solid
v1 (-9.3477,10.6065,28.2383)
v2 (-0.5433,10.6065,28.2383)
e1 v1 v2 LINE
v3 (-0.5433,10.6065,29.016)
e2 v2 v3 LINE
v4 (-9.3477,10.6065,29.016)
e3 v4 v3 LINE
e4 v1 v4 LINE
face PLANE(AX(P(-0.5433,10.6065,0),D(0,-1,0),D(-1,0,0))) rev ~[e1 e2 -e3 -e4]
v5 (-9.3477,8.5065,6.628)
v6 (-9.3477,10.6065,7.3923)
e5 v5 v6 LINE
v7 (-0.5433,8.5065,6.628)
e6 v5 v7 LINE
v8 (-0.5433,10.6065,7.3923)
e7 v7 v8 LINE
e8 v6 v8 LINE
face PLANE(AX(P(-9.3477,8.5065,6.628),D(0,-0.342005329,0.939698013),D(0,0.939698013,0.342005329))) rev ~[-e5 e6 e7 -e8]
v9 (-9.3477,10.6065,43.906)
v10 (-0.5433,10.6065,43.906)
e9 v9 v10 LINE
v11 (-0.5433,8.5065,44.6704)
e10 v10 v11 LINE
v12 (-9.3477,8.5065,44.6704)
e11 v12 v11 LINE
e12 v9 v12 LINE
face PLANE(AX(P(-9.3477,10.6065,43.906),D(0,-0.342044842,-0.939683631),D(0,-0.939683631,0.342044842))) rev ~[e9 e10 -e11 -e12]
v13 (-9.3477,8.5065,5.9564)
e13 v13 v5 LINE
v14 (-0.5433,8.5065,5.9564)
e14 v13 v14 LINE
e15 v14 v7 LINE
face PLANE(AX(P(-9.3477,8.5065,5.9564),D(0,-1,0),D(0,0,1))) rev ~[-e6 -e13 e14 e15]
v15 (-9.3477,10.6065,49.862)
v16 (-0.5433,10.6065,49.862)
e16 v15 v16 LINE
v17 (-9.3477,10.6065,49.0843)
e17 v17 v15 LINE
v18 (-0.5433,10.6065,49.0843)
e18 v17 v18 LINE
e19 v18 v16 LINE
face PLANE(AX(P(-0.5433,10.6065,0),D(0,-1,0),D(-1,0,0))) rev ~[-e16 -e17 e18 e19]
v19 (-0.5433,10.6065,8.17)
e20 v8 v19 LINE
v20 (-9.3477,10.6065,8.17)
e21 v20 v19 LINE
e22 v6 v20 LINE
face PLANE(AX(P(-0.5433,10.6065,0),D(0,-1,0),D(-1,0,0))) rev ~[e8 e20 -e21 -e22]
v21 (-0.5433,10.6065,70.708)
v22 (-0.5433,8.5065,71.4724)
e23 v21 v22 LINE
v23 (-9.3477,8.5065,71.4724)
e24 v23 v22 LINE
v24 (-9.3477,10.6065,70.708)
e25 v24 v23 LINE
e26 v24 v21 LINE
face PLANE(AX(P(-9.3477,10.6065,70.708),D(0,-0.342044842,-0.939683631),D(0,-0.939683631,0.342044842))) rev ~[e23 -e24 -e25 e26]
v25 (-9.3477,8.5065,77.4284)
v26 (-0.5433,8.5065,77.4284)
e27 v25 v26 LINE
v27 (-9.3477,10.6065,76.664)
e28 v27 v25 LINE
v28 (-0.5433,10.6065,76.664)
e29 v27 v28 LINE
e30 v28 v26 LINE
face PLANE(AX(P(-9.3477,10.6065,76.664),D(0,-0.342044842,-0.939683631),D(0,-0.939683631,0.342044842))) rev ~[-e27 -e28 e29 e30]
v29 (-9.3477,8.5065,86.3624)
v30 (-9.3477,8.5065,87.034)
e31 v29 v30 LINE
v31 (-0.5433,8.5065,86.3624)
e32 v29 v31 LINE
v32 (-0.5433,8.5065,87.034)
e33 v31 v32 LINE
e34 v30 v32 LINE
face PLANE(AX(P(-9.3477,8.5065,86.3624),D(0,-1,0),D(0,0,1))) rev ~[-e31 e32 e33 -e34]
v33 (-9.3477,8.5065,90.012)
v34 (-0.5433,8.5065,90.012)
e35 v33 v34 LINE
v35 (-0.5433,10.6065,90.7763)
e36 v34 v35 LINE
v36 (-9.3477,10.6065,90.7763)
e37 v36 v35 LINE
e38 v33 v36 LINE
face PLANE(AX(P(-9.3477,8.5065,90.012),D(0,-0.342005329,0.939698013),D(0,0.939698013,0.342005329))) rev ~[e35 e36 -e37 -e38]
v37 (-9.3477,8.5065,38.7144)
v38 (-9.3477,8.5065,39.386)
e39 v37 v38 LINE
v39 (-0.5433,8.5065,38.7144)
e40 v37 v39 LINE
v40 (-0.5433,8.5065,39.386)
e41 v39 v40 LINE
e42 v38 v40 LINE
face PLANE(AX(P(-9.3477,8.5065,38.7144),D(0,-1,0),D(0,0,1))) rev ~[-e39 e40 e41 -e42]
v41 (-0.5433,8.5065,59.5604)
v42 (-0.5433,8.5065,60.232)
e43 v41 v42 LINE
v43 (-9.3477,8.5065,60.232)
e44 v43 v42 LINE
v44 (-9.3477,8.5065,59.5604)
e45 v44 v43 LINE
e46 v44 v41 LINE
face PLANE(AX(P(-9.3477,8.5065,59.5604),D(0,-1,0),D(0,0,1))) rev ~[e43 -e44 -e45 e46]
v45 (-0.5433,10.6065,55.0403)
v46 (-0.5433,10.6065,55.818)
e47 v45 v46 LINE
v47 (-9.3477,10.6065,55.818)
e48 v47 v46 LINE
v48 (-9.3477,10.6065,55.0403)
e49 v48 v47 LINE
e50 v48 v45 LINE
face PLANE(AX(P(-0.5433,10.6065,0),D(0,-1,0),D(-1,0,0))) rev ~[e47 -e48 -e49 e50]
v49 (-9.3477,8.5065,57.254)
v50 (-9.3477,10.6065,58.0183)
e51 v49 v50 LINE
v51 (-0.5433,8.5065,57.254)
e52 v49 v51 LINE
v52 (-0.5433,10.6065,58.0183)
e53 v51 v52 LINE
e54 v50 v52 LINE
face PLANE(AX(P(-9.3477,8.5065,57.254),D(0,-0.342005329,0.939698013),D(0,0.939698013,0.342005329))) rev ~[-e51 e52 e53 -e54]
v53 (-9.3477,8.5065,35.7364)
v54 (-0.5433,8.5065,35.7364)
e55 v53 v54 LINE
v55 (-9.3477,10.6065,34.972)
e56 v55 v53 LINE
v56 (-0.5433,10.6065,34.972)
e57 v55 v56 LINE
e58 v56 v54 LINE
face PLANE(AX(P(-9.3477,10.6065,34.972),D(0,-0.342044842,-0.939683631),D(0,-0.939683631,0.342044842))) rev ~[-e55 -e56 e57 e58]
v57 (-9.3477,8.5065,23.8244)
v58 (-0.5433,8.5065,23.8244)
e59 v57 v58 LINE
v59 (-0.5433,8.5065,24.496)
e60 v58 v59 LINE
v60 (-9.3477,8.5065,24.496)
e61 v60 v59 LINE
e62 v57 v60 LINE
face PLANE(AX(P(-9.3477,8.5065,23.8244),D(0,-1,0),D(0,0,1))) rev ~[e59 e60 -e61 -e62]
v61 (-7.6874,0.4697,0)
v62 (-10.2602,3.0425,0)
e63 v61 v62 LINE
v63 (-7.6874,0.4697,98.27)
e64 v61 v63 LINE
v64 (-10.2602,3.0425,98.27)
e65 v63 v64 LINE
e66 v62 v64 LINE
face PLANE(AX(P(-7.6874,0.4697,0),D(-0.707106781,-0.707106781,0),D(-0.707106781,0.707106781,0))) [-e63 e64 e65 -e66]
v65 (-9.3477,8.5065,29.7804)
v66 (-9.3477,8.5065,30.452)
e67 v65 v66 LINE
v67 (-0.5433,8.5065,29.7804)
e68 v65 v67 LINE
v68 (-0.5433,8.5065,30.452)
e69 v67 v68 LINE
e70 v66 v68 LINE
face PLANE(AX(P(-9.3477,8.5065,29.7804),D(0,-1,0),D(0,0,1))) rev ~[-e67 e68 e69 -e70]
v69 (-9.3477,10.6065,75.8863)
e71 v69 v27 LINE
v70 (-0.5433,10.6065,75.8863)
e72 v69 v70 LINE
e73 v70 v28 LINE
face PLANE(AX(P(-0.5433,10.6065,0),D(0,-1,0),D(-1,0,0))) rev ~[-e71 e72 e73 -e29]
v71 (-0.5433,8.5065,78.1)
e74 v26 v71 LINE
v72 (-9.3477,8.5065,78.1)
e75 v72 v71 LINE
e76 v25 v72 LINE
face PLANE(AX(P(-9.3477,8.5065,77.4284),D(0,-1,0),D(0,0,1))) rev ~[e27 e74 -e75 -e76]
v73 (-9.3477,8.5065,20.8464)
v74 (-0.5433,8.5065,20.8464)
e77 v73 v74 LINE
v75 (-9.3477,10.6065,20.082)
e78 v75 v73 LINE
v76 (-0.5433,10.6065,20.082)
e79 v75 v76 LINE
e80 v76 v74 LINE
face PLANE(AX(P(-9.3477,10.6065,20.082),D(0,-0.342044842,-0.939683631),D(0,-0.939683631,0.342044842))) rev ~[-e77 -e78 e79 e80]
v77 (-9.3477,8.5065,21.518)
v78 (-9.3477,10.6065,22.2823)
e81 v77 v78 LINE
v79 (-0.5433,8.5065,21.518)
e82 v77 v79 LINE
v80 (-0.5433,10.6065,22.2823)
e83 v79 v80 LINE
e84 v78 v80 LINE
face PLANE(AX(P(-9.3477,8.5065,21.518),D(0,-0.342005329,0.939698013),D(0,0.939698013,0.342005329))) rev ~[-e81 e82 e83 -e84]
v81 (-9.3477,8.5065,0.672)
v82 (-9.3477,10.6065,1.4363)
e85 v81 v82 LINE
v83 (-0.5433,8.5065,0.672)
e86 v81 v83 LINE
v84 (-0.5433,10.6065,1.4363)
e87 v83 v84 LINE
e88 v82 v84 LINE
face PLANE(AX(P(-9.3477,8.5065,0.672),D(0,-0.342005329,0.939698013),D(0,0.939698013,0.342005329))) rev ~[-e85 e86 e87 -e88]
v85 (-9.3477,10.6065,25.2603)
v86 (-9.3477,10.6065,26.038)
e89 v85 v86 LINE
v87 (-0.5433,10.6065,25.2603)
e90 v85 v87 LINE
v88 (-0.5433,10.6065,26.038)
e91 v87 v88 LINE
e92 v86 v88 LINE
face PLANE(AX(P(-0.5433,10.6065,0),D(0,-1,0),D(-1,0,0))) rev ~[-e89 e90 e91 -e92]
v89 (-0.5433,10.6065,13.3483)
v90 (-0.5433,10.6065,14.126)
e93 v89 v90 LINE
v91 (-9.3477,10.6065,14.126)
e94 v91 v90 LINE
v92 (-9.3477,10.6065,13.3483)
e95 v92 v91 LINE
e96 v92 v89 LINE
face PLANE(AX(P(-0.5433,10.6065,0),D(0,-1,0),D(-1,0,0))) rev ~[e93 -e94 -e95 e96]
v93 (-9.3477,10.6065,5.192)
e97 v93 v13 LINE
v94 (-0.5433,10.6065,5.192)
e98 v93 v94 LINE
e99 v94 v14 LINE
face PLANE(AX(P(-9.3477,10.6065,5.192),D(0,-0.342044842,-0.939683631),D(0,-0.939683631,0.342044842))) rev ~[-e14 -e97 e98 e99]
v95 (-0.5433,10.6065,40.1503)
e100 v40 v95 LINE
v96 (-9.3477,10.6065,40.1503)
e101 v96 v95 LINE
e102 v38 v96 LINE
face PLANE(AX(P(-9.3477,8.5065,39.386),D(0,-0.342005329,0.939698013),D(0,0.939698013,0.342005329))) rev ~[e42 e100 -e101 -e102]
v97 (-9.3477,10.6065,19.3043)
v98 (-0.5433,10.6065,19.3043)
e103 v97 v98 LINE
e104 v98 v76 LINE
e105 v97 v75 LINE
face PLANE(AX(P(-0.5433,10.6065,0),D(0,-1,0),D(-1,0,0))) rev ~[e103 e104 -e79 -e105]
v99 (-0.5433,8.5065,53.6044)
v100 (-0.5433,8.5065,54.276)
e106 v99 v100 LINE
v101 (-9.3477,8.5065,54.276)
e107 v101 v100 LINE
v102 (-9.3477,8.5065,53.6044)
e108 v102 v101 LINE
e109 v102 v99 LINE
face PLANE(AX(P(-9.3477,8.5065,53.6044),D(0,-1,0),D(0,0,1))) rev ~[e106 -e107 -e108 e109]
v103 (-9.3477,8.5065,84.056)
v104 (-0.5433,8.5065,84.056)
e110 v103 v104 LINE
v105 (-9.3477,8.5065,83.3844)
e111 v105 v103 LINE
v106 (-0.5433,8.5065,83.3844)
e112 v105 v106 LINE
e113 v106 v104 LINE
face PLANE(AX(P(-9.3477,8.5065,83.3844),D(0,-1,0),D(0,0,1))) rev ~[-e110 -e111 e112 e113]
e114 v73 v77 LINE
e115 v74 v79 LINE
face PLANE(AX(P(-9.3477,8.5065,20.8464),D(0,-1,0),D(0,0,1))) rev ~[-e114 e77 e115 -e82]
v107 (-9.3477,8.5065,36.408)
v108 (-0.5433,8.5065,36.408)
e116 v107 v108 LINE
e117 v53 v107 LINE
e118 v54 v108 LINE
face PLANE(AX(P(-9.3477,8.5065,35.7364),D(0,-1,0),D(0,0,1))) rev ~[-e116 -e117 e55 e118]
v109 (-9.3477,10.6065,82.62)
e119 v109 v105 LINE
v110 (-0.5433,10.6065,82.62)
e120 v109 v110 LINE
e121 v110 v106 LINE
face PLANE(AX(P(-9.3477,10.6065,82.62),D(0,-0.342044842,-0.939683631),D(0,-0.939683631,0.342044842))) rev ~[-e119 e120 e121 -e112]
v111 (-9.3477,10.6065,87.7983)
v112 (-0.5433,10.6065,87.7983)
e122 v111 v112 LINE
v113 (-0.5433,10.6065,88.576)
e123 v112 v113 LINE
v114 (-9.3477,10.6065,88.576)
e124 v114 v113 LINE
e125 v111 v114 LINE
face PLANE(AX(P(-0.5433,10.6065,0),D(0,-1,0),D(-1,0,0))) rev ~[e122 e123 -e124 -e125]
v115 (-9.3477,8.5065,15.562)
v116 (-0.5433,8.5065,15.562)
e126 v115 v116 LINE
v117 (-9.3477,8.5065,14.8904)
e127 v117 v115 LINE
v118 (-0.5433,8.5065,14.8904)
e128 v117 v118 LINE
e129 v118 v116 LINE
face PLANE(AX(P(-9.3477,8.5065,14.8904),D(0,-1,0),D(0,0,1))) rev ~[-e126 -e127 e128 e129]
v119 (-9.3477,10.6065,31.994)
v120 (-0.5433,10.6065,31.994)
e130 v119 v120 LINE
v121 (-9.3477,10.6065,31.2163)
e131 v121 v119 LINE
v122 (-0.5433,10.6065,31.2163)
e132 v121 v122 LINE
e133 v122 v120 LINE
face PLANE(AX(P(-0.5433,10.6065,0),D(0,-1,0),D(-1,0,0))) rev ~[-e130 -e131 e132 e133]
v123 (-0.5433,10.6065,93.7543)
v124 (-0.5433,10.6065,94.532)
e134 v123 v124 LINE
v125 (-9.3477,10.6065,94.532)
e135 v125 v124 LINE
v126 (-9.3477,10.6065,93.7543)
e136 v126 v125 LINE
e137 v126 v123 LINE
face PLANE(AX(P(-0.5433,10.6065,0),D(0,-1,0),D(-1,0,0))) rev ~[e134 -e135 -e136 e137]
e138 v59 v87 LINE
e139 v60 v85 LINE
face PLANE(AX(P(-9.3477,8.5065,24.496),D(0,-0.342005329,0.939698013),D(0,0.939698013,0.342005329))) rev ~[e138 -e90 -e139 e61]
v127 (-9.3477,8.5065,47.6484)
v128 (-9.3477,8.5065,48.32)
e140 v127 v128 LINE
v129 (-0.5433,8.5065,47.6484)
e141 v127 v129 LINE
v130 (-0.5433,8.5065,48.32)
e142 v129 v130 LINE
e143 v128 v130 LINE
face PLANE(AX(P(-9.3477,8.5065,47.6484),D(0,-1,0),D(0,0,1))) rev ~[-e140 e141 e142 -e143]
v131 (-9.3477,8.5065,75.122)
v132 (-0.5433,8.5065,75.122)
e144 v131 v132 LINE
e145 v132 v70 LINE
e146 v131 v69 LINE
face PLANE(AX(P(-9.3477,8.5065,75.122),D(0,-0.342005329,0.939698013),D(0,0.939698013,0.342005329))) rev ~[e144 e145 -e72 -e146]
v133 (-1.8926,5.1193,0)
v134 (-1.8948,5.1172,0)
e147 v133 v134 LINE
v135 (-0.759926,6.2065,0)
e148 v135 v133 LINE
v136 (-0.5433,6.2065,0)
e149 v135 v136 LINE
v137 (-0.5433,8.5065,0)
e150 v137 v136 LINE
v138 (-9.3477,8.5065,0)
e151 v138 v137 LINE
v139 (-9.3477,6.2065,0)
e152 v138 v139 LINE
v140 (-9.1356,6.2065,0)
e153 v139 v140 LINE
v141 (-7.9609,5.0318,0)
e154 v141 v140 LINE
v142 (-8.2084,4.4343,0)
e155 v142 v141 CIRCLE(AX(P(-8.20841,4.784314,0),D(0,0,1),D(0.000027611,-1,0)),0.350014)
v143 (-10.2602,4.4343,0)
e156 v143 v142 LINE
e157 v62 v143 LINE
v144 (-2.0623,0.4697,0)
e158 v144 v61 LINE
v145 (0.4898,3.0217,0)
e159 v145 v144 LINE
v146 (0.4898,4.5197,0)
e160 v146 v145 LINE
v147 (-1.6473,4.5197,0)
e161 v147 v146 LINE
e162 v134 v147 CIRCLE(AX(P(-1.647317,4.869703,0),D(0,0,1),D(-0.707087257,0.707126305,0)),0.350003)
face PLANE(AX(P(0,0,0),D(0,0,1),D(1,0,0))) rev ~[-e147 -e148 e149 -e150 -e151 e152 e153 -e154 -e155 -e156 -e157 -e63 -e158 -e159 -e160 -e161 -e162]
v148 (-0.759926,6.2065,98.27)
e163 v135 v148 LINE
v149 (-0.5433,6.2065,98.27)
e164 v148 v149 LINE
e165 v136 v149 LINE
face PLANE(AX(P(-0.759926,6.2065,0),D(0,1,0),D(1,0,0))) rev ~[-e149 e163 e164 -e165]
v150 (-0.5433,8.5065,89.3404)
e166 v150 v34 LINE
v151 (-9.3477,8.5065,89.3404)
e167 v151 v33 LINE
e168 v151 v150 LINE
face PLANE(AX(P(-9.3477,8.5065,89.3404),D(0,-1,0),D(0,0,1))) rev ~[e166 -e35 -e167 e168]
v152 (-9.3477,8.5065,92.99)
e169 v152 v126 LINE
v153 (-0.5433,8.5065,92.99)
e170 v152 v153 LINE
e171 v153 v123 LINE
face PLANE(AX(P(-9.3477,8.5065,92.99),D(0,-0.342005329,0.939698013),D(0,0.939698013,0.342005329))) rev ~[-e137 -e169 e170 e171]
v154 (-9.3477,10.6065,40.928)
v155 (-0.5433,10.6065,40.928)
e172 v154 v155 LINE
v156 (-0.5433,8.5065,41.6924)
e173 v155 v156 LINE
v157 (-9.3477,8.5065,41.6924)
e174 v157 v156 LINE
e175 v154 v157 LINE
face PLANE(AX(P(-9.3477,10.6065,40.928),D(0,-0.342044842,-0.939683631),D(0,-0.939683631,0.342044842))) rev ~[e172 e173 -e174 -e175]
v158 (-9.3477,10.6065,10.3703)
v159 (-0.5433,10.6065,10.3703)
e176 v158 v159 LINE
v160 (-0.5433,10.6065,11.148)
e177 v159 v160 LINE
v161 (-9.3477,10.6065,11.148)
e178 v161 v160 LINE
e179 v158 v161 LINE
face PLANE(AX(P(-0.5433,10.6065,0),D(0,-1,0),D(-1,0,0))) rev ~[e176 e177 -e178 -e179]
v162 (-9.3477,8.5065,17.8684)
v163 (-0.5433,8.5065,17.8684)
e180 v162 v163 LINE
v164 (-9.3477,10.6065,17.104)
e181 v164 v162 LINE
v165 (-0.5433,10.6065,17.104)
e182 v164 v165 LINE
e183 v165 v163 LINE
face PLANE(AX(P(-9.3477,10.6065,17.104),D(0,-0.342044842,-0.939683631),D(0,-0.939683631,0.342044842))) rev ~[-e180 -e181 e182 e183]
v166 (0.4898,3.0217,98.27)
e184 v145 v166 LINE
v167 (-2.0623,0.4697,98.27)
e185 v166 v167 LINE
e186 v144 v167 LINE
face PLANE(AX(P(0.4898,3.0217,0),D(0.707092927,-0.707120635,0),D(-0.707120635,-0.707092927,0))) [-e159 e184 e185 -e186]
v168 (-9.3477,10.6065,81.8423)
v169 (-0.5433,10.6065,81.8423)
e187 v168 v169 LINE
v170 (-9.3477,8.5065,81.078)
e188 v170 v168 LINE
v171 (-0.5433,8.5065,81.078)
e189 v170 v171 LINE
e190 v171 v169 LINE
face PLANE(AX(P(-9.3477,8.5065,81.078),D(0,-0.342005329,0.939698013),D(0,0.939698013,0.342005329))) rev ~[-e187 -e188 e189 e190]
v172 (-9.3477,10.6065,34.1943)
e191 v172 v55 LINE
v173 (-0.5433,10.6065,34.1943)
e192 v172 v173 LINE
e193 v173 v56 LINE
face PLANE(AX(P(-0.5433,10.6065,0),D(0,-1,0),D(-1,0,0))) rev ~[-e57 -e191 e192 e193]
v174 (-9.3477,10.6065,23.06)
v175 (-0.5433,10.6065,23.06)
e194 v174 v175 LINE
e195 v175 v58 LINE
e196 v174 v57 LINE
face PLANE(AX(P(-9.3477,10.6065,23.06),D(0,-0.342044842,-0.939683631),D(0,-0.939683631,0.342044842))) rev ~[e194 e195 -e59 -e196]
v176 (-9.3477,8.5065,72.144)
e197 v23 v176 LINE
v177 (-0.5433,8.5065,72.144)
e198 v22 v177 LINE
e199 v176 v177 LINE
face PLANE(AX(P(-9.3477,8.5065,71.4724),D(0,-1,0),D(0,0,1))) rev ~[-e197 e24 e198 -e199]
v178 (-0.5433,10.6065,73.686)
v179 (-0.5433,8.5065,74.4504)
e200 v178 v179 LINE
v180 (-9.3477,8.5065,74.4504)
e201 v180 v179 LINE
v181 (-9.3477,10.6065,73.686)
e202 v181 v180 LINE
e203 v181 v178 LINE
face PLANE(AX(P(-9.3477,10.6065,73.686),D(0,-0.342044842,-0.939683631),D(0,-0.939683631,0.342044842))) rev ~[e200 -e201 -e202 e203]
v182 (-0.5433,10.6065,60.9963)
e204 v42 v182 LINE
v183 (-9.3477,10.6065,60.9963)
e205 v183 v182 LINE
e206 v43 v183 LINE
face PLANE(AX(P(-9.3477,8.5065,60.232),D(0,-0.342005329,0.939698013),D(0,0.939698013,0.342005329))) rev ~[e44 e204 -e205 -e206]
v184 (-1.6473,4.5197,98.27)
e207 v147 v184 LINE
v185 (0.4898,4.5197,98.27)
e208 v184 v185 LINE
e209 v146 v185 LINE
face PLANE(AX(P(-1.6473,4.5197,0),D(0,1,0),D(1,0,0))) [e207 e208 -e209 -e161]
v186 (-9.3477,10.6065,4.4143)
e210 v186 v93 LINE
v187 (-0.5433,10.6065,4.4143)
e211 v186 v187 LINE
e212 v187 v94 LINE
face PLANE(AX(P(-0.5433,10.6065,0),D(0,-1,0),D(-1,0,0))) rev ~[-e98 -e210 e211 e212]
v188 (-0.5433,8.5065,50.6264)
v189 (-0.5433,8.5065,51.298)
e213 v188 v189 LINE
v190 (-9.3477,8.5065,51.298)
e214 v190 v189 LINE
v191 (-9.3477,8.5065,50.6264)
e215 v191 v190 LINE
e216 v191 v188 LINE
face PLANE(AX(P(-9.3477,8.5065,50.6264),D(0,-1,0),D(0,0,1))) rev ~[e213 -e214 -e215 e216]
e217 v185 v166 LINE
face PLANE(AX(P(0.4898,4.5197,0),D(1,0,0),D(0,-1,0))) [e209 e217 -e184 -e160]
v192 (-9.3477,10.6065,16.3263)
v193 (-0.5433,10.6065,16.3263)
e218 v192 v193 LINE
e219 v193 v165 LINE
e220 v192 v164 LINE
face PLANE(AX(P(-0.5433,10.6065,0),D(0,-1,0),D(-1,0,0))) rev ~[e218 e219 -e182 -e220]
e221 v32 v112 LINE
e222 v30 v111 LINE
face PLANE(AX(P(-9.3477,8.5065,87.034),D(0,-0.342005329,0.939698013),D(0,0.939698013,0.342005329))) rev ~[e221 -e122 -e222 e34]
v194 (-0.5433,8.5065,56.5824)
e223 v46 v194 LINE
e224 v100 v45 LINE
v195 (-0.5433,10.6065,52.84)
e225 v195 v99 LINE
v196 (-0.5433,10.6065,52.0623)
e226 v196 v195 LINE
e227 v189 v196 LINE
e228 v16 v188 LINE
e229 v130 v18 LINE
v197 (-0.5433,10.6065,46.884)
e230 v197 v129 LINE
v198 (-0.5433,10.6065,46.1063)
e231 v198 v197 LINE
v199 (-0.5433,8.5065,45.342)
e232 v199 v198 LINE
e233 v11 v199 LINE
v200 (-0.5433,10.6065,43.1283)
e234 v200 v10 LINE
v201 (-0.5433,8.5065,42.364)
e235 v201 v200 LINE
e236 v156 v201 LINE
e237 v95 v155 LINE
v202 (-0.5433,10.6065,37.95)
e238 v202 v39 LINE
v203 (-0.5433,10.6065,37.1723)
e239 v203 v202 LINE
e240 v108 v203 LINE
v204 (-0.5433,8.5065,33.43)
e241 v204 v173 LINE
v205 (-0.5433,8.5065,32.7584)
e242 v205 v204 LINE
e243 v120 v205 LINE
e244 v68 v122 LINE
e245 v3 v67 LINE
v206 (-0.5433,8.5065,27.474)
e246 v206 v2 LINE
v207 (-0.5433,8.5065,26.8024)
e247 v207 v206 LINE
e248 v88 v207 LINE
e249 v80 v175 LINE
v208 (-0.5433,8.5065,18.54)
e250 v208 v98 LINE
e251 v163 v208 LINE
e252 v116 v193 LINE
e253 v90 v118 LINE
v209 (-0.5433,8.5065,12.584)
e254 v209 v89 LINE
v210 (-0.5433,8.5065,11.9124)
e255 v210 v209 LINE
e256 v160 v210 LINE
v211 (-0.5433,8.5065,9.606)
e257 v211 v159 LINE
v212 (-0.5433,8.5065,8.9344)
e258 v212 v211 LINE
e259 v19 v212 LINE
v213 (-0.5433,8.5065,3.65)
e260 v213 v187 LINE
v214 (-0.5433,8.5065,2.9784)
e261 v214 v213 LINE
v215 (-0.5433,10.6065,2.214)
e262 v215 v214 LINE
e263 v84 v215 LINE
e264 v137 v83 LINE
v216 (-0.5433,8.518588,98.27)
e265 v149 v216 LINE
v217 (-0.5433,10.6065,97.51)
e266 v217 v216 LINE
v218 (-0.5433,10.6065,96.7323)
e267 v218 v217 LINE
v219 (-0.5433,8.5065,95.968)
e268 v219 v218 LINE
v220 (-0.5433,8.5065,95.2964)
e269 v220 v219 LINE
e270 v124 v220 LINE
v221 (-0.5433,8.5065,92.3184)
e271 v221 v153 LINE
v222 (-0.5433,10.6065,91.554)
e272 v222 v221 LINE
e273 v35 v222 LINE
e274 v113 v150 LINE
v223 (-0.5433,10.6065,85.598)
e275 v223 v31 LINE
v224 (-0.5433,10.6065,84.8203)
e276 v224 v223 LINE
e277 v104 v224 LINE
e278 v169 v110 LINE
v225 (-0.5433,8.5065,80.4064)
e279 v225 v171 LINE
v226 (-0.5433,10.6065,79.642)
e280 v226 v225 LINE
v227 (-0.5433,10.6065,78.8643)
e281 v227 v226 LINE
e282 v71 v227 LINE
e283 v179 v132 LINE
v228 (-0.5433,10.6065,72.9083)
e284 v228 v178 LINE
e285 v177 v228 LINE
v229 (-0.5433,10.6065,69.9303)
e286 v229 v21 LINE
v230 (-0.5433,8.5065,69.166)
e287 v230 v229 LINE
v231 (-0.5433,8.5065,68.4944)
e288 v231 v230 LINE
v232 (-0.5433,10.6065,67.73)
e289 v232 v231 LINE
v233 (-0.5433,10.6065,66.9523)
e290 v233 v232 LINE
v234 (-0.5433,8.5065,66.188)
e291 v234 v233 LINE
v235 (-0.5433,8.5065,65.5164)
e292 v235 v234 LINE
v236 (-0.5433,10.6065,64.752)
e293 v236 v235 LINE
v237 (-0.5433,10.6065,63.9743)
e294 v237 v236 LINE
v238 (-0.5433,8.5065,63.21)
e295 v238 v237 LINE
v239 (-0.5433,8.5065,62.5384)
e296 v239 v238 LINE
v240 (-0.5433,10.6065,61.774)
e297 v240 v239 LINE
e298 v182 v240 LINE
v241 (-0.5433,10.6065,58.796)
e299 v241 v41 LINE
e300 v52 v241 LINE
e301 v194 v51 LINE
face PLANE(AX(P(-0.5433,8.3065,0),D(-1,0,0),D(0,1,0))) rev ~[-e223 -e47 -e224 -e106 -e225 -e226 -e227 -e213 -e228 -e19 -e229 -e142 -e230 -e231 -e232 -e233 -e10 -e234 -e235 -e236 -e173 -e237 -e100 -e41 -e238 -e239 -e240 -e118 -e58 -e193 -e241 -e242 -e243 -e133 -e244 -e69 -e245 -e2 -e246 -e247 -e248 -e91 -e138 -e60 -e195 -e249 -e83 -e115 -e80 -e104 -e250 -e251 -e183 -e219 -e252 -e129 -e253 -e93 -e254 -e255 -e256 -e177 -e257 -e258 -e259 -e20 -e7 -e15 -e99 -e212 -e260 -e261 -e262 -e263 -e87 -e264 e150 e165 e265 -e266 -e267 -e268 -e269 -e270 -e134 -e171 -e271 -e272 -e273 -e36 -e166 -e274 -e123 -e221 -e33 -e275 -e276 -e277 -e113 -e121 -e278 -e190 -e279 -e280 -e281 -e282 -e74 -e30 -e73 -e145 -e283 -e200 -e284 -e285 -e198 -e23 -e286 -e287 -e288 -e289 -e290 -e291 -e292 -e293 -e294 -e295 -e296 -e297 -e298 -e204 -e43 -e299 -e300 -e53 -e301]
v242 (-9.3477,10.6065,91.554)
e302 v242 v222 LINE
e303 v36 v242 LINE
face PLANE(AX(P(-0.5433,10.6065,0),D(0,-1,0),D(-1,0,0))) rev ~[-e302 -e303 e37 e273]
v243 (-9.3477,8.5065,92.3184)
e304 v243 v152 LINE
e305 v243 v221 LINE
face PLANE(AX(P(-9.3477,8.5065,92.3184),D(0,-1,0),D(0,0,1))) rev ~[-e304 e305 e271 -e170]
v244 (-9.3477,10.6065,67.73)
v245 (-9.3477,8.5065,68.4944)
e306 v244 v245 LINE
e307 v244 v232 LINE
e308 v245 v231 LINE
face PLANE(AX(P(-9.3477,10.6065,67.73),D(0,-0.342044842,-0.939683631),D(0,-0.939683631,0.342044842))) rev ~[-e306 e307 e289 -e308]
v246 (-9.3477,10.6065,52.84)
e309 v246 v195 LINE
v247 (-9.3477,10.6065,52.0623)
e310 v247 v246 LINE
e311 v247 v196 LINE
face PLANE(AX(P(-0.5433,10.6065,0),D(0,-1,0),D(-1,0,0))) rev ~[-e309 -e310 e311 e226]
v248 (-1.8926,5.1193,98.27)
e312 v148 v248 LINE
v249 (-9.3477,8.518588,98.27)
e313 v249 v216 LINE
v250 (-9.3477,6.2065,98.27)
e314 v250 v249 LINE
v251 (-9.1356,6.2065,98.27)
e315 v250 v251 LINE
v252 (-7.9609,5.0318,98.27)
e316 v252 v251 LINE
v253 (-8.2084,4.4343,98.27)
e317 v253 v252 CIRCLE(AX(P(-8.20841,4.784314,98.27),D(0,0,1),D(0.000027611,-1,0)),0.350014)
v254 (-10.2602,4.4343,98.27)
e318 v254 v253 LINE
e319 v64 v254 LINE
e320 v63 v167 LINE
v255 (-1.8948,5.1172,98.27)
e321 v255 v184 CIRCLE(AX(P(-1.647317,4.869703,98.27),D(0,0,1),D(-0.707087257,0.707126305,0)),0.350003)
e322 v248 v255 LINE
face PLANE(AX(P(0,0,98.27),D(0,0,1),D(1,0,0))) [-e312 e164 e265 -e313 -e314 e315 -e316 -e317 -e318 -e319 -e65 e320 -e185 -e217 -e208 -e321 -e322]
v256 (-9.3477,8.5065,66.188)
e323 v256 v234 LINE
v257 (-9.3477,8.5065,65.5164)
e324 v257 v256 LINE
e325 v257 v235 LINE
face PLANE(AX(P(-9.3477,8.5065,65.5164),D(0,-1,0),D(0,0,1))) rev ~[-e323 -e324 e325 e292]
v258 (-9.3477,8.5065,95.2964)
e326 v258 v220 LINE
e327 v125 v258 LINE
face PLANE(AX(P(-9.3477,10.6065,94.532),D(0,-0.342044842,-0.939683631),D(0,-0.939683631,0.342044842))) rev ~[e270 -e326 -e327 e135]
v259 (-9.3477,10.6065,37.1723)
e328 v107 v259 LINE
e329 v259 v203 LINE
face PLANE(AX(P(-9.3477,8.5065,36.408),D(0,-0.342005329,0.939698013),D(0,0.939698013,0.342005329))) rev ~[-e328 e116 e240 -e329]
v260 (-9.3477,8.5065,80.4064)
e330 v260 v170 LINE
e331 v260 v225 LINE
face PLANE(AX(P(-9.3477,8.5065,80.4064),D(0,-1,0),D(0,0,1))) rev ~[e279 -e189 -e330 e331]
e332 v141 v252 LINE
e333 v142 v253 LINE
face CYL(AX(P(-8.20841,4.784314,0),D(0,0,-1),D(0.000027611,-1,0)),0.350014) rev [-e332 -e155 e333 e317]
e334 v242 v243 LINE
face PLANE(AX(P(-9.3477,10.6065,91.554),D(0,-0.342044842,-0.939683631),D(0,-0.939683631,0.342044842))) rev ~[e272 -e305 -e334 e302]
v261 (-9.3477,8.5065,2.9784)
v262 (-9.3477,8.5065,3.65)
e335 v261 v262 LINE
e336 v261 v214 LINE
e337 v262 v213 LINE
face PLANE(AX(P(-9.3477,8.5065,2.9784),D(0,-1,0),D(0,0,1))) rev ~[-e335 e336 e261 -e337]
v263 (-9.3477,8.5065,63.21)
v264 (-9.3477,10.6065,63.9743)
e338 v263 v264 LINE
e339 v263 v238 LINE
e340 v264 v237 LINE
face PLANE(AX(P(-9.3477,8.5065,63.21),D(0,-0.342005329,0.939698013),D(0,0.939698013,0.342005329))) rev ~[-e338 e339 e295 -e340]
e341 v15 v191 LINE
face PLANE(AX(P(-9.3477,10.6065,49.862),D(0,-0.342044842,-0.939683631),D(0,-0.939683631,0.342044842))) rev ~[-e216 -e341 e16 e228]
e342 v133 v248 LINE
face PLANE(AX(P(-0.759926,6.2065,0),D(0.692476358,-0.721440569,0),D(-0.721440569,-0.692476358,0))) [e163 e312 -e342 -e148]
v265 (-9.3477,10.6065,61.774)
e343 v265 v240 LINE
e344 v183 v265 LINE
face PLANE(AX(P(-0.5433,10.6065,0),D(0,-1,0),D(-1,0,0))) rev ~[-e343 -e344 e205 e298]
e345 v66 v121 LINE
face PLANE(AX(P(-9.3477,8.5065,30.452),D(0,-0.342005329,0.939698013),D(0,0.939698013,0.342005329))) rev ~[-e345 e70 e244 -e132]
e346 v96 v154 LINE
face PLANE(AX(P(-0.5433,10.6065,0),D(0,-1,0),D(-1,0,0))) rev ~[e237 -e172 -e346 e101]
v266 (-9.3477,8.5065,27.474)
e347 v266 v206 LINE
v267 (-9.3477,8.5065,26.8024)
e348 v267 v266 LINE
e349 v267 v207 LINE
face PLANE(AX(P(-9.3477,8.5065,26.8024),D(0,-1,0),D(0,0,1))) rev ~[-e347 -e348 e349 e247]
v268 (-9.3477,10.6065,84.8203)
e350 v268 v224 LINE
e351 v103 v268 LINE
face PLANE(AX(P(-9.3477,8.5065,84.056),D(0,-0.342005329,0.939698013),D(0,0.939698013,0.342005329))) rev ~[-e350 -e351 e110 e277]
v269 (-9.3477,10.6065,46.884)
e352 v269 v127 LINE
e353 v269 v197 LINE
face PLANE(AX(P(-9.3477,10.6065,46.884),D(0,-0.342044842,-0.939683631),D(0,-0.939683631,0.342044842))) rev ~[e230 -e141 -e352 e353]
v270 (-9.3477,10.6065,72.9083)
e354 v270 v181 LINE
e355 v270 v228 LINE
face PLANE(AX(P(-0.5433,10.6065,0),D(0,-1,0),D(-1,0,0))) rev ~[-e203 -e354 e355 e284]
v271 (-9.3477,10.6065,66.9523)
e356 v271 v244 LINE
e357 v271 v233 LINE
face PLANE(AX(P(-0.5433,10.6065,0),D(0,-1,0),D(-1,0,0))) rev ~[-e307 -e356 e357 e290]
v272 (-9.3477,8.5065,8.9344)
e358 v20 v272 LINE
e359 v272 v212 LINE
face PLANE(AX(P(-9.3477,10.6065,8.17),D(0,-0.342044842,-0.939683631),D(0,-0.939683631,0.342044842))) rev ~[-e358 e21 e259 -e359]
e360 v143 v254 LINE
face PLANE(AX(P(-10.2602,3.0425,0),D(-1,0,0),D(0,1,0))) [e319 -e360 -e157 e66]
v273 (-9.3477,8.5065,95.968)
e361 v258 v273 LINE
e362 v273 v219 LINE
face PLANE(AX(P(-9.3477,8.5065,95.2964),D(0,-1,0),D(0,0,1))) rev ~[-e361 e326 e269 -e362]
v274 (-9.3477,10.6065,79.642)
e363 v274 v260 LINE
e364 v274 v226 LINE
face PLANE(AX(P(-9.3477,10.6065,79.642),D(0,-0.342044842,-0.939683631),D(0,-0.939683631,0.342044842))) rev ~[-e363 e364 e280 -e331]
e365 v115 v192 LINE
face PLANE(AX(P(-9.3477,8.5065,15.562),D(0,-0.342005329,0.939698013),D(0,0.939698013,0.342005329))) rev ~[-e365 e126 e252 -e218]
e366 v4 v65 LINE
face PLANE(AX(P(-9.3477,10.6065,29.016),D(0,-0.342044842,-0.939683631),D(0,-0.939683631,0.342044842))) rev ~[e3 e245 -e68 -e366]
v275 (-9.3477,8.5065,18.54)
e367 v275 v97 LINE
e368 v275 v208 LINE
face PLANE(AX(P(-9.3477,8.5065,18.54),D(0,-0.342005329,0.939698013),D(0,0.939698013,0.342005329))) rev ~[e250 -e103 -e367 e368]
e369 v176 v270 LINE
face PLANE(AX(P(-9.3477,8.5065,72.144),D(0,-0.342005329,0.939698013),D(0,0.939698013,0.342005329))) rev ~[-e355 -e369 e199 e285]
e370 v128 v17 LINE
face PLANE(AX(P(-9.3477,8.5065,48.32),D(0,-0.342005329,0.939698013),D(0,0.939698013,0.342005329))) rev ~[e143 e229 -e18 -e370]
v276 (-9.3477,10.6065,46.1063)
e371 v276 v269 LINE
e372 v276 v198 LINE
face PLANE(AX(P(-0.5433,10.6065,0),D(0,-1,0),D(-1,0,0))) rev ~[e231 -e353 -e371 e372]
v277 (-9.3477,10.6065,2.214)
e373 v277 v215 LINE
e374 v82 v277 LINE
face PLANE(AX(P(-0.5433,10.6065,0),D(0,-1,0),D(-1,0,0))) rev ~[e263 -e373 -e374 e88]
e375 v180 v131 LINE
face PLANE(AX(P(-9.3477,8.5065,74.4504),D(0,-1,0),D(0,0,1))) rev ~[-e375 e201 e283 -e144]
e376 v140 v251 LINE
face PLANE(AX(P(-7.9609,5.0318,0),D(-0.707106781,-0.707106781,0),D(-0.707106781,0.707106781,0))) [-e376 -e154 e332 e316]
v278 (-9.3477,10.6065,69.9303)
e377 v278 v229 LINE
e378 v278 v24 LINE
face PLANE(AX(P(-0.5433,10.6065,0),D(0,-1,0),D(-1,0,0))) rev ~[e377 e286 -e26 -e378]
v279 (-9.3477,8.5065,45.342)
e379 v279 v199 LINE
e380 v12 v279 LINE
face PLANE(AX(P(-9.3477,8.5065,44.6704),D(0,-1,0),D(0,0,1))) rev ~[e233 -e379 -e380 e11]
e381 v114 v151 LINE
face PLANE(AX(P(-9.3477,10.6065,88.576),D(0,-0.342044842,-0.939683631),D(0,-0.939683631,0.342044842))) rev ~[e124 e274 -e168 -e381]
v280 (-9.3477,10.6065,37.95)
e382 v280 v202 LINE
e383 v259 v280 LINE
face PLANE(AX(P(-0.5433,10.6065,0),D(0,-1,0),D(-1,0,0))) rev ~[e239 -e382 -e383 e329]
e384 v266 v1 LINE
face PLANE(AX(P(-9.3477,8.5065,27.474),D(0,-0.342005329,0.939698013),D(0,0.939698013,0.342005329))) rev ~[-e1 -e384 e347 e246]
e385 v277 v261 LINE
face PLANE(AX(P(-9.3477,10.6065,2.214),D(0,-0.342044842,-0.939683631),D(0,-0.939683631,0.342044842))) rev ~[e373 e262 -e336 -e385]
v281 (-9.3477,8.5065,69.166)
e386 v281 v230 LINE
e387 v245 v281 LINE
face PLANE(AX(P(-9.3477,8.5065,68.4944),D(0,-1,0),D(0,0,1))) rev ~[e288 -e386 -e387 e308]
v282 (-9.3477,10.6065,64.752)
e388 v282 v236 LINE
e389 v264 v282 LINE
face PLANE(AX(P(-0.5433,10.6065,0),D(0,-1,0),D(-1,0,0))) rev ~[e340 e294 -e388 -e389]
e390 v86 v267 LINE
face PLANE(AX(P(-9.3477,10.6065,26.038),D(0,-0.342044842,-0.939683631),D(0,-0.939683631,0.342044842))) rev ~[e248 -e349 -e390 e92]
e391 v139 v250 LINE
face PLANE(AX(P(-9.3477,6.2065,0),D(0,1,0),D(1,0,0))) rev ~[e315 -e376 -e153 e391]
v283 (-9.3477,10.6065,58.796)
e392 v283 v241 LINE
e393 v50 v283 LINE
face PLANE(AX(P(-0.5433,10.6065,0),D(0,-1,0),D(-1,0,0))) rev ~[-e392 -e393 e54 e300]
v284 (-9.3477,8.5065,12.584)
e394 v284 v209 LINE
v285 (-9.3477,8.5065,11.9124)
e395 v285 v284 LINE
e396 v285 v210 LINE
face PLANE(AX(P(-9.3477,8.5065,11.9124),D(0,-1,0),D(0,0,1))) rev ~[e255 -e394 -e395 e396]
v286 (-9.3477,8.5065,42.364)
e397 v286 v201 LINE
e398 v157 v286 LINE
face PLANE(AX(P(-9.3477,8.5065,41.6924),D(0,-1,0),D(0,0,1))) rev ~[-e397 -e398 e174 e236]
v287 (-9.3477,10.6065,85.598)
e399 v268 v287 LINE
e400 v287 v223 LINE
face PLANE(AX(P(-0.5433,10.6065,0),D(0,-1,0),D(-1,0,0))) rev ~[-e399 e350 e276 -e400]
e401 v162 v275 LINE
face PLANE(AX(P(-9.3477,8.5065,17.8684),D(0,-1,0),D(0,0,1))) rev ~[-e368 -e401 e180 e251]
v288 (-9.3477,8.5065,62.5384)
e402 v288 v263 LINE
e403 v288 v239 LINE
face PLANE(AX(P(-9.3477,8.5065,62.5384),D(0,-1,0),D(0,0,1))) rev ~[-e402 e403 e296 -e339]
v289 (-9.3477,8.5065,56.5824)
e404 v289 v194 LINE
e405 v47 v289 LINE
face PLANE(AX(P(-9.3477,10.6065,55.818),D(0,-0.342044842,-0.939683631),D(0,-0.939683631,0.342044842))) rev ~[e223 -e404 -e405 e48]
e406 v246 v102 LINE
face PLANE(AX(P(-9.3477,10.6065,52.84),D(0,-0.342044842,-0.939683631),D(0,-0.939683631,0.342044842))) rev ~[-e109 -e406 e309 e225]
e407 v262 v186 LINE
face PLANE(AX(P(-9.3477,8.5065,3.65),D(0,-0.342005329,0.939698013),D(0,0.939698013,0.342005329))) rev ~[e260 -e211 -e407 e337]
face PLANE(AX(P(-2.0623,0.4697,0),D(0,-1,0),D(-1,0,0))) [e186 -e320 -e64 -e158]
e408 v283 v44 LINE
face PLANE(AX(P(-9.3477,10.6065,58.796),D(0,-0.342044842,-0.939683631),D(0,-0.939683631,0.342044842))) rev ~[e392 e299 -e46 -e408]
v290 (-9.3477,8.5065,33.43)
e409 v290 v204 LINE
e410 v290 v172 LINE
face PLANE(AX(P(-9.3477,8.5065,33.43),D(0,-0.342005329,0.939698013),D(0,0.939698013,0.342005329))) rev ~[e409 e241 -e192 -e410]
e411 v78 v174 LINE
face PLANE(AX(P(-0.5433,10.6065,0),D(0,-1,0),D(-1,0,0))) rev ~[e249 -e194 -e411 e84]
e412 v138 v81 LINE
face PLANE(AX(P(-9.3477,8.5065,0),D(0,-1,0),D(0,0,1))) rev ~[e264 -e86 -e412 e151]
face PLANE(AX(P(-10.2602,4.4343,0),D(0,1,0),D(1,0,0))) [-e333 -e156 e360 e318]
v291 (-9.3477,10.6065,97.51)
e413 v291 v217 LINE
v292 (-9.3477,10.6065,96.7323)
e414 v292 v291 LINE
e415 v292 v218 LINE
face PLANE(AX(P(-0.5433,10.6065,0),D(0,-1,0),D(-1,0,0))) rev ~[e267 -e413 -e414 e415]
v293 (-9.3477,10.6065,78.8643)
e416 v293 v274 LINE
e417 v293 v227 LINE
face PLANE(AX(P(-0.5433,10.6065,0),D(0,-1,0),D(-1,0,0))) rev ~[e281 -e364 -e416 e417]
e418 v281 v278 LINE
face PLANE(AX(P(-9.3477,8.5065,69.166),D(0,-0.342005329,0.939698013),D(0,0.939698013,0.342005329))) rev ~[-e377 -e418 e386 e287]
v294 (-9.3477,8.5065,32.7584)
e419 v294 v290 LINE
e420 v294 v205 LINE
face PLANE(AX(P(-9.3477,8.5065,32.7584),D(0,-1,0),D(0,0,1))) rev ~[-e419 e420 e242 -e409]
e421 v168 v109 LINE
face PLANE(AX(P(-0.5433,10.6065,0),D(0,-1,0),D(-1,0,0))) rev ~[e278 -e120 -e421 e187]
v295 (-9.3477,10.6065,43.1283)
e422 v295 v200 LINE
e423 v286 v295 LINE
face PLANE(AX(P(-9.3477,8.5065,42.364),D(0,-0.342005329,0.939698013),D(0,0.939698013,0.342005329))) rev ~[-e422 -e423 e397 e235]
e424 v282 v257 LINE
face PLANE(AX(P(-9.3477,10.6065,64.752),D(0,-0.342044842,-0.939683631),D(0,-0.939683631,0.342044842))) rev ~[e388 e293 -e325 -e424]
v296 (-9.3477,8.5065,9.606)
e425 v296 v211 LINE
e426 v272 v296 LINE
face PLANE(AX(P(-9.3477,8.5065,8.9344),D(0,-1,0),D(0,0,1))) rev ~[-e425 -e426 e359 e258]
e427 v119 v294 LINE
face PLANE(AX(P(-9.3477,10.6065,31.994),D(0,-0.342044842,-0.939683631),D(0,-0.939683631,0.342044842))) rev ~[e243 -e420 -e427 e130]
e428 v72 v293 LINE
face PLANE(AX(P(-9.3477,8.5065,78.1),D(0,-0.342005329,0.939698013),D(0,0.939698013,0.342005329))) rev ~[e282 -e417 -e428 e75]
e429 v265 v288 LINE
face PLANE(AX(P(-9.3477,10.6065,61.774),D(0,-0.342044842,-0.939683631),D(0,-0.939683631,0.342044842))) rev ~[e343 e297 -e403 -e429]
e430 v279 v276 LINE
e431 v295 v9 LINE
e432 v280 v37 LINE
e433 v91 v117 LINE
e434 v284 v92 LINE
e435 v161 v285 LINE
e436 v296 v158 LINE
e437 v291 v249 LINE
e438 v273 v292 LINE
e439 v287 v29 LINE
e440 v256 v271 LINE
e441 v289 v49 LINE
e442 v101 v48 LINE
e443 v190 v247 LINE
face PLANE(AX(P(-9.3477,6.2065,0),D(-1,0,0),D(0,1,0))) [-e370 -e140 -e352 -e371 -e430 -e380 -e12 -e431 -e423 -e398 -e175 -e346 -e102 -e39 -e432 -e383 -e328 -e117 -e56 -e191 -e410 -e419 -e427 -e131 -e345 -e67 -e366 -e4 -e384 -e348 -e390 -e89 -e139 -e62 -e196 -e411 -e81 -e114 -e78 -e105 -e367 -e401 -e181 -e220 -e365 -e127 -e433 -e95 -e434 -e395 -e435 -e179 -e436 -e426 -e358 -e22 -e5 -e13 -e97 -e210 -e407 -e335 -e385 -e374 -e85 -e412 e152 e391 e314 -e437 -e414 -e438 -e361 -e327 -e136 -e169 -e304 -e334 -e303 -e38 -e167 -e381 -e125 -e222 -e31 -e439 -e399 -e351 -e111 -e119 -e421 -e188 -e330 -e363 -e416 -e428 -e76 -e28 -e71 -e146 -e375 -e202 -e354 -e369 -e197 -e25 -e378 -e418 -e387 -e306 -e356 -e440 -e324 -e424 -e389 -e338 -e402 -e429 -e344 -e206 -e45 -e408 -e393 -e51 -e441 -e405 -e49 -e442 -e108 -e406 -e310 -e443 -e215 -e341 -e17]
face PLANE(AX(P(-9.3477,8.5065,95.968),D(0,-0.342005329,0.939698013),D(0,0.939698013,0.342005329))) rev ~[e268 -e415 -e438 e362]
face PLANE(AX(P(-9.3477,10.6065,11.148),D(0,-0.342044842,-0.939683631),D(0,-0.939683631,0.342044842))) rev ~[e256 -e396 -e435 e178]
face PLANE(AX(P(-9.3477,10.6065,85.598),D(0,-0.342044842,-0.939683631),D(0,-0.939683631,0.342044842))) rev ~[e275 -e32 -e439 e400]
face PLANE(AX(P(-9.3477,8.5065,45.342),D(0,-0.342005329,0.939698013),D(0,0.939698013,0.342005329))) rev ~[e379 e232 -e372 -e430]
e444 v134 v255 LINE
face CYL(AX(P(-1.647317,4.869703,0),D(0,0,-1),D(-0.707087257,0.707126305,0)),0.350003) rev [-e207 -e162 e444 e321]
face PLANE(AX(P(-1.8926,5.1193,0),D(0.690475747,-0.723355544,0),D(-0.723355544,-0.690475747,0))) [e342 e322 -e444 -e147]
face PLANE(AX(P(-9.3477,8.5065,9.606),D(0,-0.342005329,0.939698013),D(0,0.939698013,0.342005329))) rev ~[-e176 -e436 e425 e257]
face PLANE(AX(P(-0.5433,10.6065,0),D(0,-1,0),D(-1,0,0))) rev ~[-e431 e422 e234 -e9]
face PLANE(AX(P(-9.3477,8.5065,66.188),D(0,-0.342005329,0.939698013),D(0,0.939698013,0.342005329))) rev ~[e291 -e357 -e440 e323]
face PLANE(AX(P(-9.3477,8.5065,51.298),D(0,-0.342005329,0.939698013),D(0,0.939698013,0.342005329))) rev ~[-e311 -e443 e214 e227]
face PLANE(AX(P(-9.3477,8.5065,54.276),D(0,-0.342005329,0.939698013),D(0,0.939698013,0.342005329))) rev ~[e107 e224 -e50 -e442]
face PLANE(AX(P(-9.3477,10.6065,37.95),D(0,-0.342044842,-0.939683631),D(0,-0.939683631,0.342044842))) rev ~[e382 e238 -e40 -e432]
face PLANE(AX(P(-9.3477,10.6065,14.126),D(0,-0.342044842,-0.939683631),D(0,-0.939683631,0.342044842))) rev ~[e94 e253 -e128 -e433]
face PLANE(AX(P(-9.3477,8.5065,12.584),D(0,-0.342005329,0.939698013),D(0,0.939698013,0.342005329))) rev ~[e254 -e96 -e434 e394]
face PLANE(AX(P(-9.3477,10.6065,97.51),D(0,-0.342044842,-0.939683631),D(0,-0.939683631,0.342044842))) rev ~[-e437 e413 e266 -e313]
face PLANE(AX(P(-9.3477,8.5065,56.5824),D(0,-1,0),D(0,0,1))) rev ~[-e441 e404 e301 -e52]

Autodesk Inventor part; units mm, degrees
ref_plane "YZ Plane" through (0, 0, 0) normal (1, 0, 0) x (0, 1, 0)
ref_plane "XZ Plane" through (0, 0, 0) normal (0, 1, 0) x (-1, 0, 0)
ref_plane "XY Plane" through (0, 0, 0) normal (0, 0, 1) x (1, 0, 0)
sketch "Sketch1" plane through (0, 0, 0) normal (0, 0, 1) x (1, 0, 0)
  arc A0 (-8.2084, 4.5843) -> (-8.067, 4.9257) centre (-8.2084, 4.7843) ccw
  line L0 (-7.7495, 0.3197) -> (-10.4102, 2.9803)
  line L1 (-8.067, 4.9257) -> (-9.3477, 6.2065)
  line L2 (-10.4102, 2.9803) -> (-10.4102, 4.5843)
  line L3 (-10.4102, 4.5843) -> (-8.2084, 4.5843)
  line L4 (-5.115, 0.3197) -> (-7.7495, 0.3197)
  line L5 (-9.3477, 6.2065) -> (-0.5433, 6.2065)
  line L6 (-4.9102, 0.1149) -> (-5.115, 0.3197)
  line L7 (-4.7054, 0.3197) -> (-4.9102, 0.1149)
  line L8 (-2.0001, 0.3197) -> (-4.7054, 0.3197)
  arc A1 (-1.7888, 5.0111) -> (-1.6473, 4.6697) centre (-1.6473, 4.8697) ccw
  line L9 (-0.5433, 6.2065) -> (-1.7888, 5.0111)
  line L10 (-0.5433, 6.2065) -> (-1.7888, 5.0111)
  line L11 (-1.6473, 4.6697) -> (0.6398, 4.6697)
  line L12 (0.6398, 4.6697) -> (0.6398, 2.9596)
  line L13 (0.6398, 2.9596) -> (-2.0001, 0.3197)
  line L14 (-5.115, 0.3197) -> (-4.7054, 0.3197)
  line L15 (-9.3477, 6.2065) -> (-9.3477, 8.5065)
  line L16 (-0.5433, 8.3065) -> (-0.5433, 6.2065)
  arc A2 (-1.8948, 5.1172) -> (-1.6473, 4.5197) centre (-1.6473, 4.8697) ccw
  line L17 (-1.6473, 4.5197) -> (0.4898, 4.5197)
  line L18 (0.4898, 4.5197) -> (0.4898, 3.0217)
  line L19 (0.4898, 3.0217) -> (-2.0623, 0.4697)
  line L20 (-2.0623, 0.4697) -> (-4.9348, 0.4697)
  line L21 (-5.115, 0.4697) -> (-7.6874, 0.4697)
  line L22 (-7.6874, 0.4697) -> (-10.2602, 3.0425)
  line L23 (-10.2602, 3.0425) -> (-10.2602, 4.4343)
  line L24 (-10.2602, 4.4343) -> (-8.2084, 4.4343)
  arc A3 (-8.2084, 4.4343) -> (-7.9609, 5.0318) centre (-8.2084, 4.7843) ccw
  line L25 (-7.9609, 5.0318) -> (-9.2417, 6.3126)
  line L26 (-0.6472, 6.3147) -> (-1.8926, 5.1193)
  line L27 (-1.8926, 5.1193) -> (-1.8948, 5.1172)
  line L28 (-0.6472, 6.3147) -> (-0.5433, 6.3147)
  line L29 (-9.2417, 6.3126) -> (-9.3477, 6.3147)
  line L30 (-4.9348, 0.4697) -> (-5.115, 0.4697)
  line L31 (-0.5433, 8.3065) -> (-0.5433, 10.6065)
  line L32 (-0.5433, 10.6065) -> (-9.3477, 10.6065)
  line L33 (-9.3477, 10.6065) -> (-9.3477, 8.5065)
  point P0 (0, 0)
  point P1 (-9.3477, 6.3442)
  point P2 (-0.76, 6.2065)
  point P3 (-9.1356, 6.2065)
  dimension "d9" = 0.15
  dimension "d10" = 0.15
  dimension "d11" = 0.15
  dimension "d68" = 4.4
extrude "Extrusion3" add sketch "Sketch1" along normal blind 98.27 contours L15 L29 L25 L5 | L25 L29 L15 L33 L32 L31 L16 L28 L26 L5 | L5 L26 L27 A2 L17 L18 L19 L20 L30 L21 L22 L23 L24 A3 L25 | L26 L28 L16 L5
sketch "Sketch7" plane through (-9.3477, 6.2065, 0) normal (-1, 0, 0) x (0, 0, 1)
  line L0 (0, 4.4) -> (0, 0) construction
  line L1 (0, 2.3) -> (102.4, 2.3) construction
  line L2 (0, 0) -> (98.27, 0) construction
  line L3 (0, 2.3) -> (0.672, 2.3)
  line L4 (0.672, 2.3) -> (1.4363, 4.4)
  line L5 (0, 4.4) -> (98.27, 4.4) projected
  line L6 (0.672, 2.3) -> (2.9068, 2.3) construction
  line L7 (1.4363, 4.4) -> (2.214, 4.4)
  line L8 (2.214, 4.4) -> (2.9784, 2.3)
  line L9 (2.214, 4.4) -> (4.4488, 4.4) construction
  line L10 (2.978, 2.3) -> (3.65, 2.3)
  line L11 (3.65, 2.3) -> (4.4143, 4.4)
  line L12 (5.192, 4.4) -> (5.9564, 2.3)
  line L13 (5.956, 2.3) -> (6.628, 2.3)
  line L14 (6.628, 2.3) -> (7.3923, 4.4)
  line L15 (8.17, 4.4) -> (8.9344, 2.3)
  line L16 (8.934, 2.3) -> (9.606, 2.3)
  line L17 (9.606, 2.3) -> (10.3703, 4.4)
  line L18 (11.148, 4.4) -> (11.9124, 2.3)
  line L19 (11.912, 2.3) -> (12.584, 2.3)
  line L20 (12.584, 2.3) -> (13.3483, 4.4)
  line L21 (14.126, 4.4) -> (14.8904, 2.3)
  line L22 (14.89, 2.3) -> (15.562, 2.3)
  line L23 (15.562, 2.3) -> (16.3263, 4.4)
  line L24 (17.104, 4.4) -> (17.8684, 2.3)
  line L25 (17.868, 2.3) -> (18.54, 2.3)
  line L26 (18.54, 2.3) -> (19.3043, 4.4)
  line L27 (20.082, 4.4) -> (20.8464, 2.3)
  line L28 (20.846, 2.3) -> (21.518, 2.3)
  line L29 (21.518, 2.3) -> (22.2823, 4.4)
  line L30 (23.06, 4.4) -> (23.8244, 2.3)
  line L31 (23.824, 2.3) -> (24.496, 2.3)
  line L32 (24.496, 2.3) -> (25.2603, 4.4)
  line L33 (26.038, 4.4) -> (26.8024, 2.3)
  line L34 (26.802, 2.3) -> (27.474, 2.3)
  line L35 (27.474, 2.3) -> (28.2383, 4.4)
  line L36 (29.016, 4.4) -> (29.7804, 2.3)
  line L37 (29.78, 2.3) -> (30.452, 2.3)
  line L38 (30.452, 2.3) -> (31.2163, 4.4)
  line L39 (31.994, 4.4) -> (32.7584, 2.3)
  line L40 (32.758, 2.3) -> (33.43, 2.3)
  line L41 (33.43, 2.3) -> (34.1943, 4.4)
  line L42 (34.972, 4.4) -> (35.7364, 2.3)
  line L43 (35.736, 2.3) -> (36.408, 2.3)
  line L44 (36.408, 2.3) -> (37.1723, 4.4)
  line L45 (37.95, 4.4) -> (38.7144, 2.3)
  line L46 (38.714, 2.3) -> (39.386, 2.3)
  line L47 (39.386, 2.3) -> (40.1503, 4.4)
  line L48 (40.928, 4.4) -> (41.6924, 2.3)
  line L49 (41.692, 2.3) -> (42.364, 2.3)
  line L50 (42.364, 2.3) -> (43.1283, 4.4)
  line L51 (43.906, 4.4) -> (44.6704, 2.3)
  line L52 (44.67, 2.3) -> (45.342, 2.3)
  line L53 (45.342, 2.3) -> (46.1063, 4.4)
  line L54 (46.884, 4.4) -> (47.6484, 2.3)
  line L55 (47.648, 2.3) -> (48.32, 2.3)
  line L56 (48.32, 2.3) -> (49.0843, 4.4)
  line L57 (49.862, 4.4) -> (50.6264, 2.3)
  line L58 (50.626, 2.3) -> (51.298, 2.3)
  line L59 (51.298, 2.3) -> (52.0623, 4.4)
  line L60 (52.84, 4.4) -> (53.6044, 2.3)
  line L61 (53.604, 2.3) -> (54.276, 2.3)
  line L62 (54.276, 2.3) -> (55.0403, 4.4)
  line L63 (55.818, 4.4) -> (56.5824, 2.3)
  line L64 (56.582, 2.3) -> (57.254, 2.3)
  line L65 (57.254, 2.3) -> (58.0183, 4.4)
  line L66 (58.796, 4.4) -> (59.5604, 2.3)
  line L67 (59.56, 2.3) -> (60.232, 2.3)
  line L68 (60.232, 2.3) -> (60.9963, 4.4)
  line L69 (61.774, 4.4) -> (62.5384, 2.3)
  line L70 (62.538, 2.3) -> (63.21, 2.3)
  line L71 (63.21, 2.3) -> (63.9743, 4.4)
  line L72 (64.752, 4.4) -> (65.5164, 2.3)
  line L73 (65.516, 2.3) -> (66.188, 2.3)
  line L74 (66.188, 2.3) -> (66.9523, 4.4)
  line L75 (67.73, 4.4) -> (68.4944, 2.3)
  line L76 (68.494, 2.3) -> (69.166, 2.3)
  line L77 (69.166, 2.3) -> (69.9303, 4.4)
  line L78 (70.708, 4.4) -> (71.4724, 2.3)
  line L79 (71.472, 2.3) -> (72.144, 2.3)
  line L80 (72.144, 2.3) -> (72.9083, 4.4)
  line L81 (73.686, 4.4) -> (74.4504, 2.3)
  line L82 (74.45, 2.3) -> (75.122, 2.3)
  line L83 (75.122, 2.3) -> (75.8863, 4.4)
  line L84 (76.664, 4.4) -> (77.4284, 2.3)
  line L85 (77.428, 2.3) -> (78.1, 2.3)
  line L86 (78.1, 2.3) -> (78.8643, 4.4)
  line L87 (79.642, 4.4) -> (80.4064, 2.3)
  line L88 (80.406, 2.3) -> (81.078, 2.3)
  line L89 (81.078, 2.3) -> (81.8423, 4.4)
  line L90 (82.62, 4.4) -> (83.3844, 2.3)
  line L91 (83.384, 2.3) -> (84.056, 2.3)
  line L92 (84.056, 2.3) -> (84.8203, 4.4)
  line L93 (85.598, 4.4) -> (86.3624, 2.3)
  line L94 (86.362, 2.3) -> (87.034, 2.3)
  line L95 (87.034, 2.3) -> (87.7983, 4.4)
  line L96 (88.576, 4.4) -> (89.3404, 2.3)
  line L97 (89.34, 2.3) -> (90.012, 2.3)
  line L98 (90.012, 2.3) -> (90.7763, 4.4)
  line L99 (91.554, 4.4) -> (92.3184, 2.3)
  line L100 (92.318, 2.3) -> (92.99, 2.3)
  line L101 (92.99, 2.3) -> (93.7543, 4.4)
  line L102 (94.532, 4.4) -> (95.2964, 2.3)
  line L103 (95.296, 2.3) -> (95.968, 2.3)
  line L104 (95.968, 2.3) -> (96.7323, 4.4)
  line L105 (97.51, 4.4) -> (98.2744, 2.3)
  line L106 (0, 4.4) -> (0, 0) projected
  line L107 (0, 0) -> (98.27, 0) projected
  line L108 (98.27, 4.4) -> (98.27, 0) projected
  line L109 (0, 4.4) -> (98.27, 4.4) projected
  point P0 (0, -6.2065)
  point P1 (0, 3.15)
  point P2 (98.27, 2.312)
  point P3 (95.2964, 2.3)
  point P4 (92.3184, 2.3)
  point P5 (89.3404, 2.3)
  point P6 (86.3624, 2.3)
  point P7 (80.4064, 2.3)
  point P8 (83.3844, 2.3)
  point P9 (77.4284, 2.3)
  point P10 (74.4504, 2.3)
  point P11 (65.5164, 2.3)
  point P12 (71.4724, 2.3)
  point P13 (68.4944, 2.3)
  point P14 (62.5384, 2.3)
  point P15 (59.5604, 2.3)
  point P16 (56.5824, 2.3)
  point P17 (53.6044, 2.3)
  point P18 (50.6264, 2.3)
  point P19 (47.6484, 2.3)
  point P20 (44.6704, 2.3)
  point P21 (41.6924, 2.3)
  point P22 (38.7144, 2.3)
  point P23 (35.7364, 2.3)
  point P24 (32.7584, 2.3)
  point P25 (29.7804, 2.3)
  point P26 (26.8024, 2.3)
  point P27 (23.8244, 2.3)
  point P28 (20.8464, 2.3)
  point P29 (17.8684, 2.3)
  point P30 (14.8904, 2.3)
  point P31 (11.9124, 2.3)
  point P32 (8.9344, 2.3)
  point P33 (5.9564, 2.3)
  point P34 (2.9784, 2.3)
  dimension "d69" = 2.3
  dimension "d70" = 0.672
  dimension "d71" = 70
  dimension "d72" = 70
  dimension "d73" = 2.9784
  dimension "d76" = 2.978
extrude "Extrusion7" cut sketch "Sketch7" against normal blind 98.27 contours L106 L5 L4 L3 | L5 L11 L10 L8 | L105 L5 L108 | L5 L14 L13 L12 | L104 L103 L102 L5 | L5 L17 L16 L15 | L101 L100 L99 L5 | L5 L20 L19 L18 | L98 L97 L96 L5 | L5 L23 L22 L21 | L95 L94 L93 L5 | L5 L26 L25 L24 | L92 L91 L90 L5 | L5 L29 L28 L27 | L89 L88 L87 L5 | L5 L32 L31 L30 | L86 L85 L84 L5 | L5 L35 L34 L33 | L83 L82 L81 L5 | L5 L38 L37 L36 | L80 L79 L78 L5 | L5 L41 L40 L39 | L77 L76 L75 L5 | L5 L44 L43 L42 | L74 L73 L72 L5 | L5 L47 L46 L45 | L71 L70 L69 L5 | L5 L50 L49 L48 | L68 L67 L66 L5 | L5 L53 L52 L51 | L65 L64 L63 L5 | L5 L56 L55 L54 | L62 L61 L60 L5 | L5 L59 L58 L57
properties part number "test_extrusion_rack_3DPrint"
